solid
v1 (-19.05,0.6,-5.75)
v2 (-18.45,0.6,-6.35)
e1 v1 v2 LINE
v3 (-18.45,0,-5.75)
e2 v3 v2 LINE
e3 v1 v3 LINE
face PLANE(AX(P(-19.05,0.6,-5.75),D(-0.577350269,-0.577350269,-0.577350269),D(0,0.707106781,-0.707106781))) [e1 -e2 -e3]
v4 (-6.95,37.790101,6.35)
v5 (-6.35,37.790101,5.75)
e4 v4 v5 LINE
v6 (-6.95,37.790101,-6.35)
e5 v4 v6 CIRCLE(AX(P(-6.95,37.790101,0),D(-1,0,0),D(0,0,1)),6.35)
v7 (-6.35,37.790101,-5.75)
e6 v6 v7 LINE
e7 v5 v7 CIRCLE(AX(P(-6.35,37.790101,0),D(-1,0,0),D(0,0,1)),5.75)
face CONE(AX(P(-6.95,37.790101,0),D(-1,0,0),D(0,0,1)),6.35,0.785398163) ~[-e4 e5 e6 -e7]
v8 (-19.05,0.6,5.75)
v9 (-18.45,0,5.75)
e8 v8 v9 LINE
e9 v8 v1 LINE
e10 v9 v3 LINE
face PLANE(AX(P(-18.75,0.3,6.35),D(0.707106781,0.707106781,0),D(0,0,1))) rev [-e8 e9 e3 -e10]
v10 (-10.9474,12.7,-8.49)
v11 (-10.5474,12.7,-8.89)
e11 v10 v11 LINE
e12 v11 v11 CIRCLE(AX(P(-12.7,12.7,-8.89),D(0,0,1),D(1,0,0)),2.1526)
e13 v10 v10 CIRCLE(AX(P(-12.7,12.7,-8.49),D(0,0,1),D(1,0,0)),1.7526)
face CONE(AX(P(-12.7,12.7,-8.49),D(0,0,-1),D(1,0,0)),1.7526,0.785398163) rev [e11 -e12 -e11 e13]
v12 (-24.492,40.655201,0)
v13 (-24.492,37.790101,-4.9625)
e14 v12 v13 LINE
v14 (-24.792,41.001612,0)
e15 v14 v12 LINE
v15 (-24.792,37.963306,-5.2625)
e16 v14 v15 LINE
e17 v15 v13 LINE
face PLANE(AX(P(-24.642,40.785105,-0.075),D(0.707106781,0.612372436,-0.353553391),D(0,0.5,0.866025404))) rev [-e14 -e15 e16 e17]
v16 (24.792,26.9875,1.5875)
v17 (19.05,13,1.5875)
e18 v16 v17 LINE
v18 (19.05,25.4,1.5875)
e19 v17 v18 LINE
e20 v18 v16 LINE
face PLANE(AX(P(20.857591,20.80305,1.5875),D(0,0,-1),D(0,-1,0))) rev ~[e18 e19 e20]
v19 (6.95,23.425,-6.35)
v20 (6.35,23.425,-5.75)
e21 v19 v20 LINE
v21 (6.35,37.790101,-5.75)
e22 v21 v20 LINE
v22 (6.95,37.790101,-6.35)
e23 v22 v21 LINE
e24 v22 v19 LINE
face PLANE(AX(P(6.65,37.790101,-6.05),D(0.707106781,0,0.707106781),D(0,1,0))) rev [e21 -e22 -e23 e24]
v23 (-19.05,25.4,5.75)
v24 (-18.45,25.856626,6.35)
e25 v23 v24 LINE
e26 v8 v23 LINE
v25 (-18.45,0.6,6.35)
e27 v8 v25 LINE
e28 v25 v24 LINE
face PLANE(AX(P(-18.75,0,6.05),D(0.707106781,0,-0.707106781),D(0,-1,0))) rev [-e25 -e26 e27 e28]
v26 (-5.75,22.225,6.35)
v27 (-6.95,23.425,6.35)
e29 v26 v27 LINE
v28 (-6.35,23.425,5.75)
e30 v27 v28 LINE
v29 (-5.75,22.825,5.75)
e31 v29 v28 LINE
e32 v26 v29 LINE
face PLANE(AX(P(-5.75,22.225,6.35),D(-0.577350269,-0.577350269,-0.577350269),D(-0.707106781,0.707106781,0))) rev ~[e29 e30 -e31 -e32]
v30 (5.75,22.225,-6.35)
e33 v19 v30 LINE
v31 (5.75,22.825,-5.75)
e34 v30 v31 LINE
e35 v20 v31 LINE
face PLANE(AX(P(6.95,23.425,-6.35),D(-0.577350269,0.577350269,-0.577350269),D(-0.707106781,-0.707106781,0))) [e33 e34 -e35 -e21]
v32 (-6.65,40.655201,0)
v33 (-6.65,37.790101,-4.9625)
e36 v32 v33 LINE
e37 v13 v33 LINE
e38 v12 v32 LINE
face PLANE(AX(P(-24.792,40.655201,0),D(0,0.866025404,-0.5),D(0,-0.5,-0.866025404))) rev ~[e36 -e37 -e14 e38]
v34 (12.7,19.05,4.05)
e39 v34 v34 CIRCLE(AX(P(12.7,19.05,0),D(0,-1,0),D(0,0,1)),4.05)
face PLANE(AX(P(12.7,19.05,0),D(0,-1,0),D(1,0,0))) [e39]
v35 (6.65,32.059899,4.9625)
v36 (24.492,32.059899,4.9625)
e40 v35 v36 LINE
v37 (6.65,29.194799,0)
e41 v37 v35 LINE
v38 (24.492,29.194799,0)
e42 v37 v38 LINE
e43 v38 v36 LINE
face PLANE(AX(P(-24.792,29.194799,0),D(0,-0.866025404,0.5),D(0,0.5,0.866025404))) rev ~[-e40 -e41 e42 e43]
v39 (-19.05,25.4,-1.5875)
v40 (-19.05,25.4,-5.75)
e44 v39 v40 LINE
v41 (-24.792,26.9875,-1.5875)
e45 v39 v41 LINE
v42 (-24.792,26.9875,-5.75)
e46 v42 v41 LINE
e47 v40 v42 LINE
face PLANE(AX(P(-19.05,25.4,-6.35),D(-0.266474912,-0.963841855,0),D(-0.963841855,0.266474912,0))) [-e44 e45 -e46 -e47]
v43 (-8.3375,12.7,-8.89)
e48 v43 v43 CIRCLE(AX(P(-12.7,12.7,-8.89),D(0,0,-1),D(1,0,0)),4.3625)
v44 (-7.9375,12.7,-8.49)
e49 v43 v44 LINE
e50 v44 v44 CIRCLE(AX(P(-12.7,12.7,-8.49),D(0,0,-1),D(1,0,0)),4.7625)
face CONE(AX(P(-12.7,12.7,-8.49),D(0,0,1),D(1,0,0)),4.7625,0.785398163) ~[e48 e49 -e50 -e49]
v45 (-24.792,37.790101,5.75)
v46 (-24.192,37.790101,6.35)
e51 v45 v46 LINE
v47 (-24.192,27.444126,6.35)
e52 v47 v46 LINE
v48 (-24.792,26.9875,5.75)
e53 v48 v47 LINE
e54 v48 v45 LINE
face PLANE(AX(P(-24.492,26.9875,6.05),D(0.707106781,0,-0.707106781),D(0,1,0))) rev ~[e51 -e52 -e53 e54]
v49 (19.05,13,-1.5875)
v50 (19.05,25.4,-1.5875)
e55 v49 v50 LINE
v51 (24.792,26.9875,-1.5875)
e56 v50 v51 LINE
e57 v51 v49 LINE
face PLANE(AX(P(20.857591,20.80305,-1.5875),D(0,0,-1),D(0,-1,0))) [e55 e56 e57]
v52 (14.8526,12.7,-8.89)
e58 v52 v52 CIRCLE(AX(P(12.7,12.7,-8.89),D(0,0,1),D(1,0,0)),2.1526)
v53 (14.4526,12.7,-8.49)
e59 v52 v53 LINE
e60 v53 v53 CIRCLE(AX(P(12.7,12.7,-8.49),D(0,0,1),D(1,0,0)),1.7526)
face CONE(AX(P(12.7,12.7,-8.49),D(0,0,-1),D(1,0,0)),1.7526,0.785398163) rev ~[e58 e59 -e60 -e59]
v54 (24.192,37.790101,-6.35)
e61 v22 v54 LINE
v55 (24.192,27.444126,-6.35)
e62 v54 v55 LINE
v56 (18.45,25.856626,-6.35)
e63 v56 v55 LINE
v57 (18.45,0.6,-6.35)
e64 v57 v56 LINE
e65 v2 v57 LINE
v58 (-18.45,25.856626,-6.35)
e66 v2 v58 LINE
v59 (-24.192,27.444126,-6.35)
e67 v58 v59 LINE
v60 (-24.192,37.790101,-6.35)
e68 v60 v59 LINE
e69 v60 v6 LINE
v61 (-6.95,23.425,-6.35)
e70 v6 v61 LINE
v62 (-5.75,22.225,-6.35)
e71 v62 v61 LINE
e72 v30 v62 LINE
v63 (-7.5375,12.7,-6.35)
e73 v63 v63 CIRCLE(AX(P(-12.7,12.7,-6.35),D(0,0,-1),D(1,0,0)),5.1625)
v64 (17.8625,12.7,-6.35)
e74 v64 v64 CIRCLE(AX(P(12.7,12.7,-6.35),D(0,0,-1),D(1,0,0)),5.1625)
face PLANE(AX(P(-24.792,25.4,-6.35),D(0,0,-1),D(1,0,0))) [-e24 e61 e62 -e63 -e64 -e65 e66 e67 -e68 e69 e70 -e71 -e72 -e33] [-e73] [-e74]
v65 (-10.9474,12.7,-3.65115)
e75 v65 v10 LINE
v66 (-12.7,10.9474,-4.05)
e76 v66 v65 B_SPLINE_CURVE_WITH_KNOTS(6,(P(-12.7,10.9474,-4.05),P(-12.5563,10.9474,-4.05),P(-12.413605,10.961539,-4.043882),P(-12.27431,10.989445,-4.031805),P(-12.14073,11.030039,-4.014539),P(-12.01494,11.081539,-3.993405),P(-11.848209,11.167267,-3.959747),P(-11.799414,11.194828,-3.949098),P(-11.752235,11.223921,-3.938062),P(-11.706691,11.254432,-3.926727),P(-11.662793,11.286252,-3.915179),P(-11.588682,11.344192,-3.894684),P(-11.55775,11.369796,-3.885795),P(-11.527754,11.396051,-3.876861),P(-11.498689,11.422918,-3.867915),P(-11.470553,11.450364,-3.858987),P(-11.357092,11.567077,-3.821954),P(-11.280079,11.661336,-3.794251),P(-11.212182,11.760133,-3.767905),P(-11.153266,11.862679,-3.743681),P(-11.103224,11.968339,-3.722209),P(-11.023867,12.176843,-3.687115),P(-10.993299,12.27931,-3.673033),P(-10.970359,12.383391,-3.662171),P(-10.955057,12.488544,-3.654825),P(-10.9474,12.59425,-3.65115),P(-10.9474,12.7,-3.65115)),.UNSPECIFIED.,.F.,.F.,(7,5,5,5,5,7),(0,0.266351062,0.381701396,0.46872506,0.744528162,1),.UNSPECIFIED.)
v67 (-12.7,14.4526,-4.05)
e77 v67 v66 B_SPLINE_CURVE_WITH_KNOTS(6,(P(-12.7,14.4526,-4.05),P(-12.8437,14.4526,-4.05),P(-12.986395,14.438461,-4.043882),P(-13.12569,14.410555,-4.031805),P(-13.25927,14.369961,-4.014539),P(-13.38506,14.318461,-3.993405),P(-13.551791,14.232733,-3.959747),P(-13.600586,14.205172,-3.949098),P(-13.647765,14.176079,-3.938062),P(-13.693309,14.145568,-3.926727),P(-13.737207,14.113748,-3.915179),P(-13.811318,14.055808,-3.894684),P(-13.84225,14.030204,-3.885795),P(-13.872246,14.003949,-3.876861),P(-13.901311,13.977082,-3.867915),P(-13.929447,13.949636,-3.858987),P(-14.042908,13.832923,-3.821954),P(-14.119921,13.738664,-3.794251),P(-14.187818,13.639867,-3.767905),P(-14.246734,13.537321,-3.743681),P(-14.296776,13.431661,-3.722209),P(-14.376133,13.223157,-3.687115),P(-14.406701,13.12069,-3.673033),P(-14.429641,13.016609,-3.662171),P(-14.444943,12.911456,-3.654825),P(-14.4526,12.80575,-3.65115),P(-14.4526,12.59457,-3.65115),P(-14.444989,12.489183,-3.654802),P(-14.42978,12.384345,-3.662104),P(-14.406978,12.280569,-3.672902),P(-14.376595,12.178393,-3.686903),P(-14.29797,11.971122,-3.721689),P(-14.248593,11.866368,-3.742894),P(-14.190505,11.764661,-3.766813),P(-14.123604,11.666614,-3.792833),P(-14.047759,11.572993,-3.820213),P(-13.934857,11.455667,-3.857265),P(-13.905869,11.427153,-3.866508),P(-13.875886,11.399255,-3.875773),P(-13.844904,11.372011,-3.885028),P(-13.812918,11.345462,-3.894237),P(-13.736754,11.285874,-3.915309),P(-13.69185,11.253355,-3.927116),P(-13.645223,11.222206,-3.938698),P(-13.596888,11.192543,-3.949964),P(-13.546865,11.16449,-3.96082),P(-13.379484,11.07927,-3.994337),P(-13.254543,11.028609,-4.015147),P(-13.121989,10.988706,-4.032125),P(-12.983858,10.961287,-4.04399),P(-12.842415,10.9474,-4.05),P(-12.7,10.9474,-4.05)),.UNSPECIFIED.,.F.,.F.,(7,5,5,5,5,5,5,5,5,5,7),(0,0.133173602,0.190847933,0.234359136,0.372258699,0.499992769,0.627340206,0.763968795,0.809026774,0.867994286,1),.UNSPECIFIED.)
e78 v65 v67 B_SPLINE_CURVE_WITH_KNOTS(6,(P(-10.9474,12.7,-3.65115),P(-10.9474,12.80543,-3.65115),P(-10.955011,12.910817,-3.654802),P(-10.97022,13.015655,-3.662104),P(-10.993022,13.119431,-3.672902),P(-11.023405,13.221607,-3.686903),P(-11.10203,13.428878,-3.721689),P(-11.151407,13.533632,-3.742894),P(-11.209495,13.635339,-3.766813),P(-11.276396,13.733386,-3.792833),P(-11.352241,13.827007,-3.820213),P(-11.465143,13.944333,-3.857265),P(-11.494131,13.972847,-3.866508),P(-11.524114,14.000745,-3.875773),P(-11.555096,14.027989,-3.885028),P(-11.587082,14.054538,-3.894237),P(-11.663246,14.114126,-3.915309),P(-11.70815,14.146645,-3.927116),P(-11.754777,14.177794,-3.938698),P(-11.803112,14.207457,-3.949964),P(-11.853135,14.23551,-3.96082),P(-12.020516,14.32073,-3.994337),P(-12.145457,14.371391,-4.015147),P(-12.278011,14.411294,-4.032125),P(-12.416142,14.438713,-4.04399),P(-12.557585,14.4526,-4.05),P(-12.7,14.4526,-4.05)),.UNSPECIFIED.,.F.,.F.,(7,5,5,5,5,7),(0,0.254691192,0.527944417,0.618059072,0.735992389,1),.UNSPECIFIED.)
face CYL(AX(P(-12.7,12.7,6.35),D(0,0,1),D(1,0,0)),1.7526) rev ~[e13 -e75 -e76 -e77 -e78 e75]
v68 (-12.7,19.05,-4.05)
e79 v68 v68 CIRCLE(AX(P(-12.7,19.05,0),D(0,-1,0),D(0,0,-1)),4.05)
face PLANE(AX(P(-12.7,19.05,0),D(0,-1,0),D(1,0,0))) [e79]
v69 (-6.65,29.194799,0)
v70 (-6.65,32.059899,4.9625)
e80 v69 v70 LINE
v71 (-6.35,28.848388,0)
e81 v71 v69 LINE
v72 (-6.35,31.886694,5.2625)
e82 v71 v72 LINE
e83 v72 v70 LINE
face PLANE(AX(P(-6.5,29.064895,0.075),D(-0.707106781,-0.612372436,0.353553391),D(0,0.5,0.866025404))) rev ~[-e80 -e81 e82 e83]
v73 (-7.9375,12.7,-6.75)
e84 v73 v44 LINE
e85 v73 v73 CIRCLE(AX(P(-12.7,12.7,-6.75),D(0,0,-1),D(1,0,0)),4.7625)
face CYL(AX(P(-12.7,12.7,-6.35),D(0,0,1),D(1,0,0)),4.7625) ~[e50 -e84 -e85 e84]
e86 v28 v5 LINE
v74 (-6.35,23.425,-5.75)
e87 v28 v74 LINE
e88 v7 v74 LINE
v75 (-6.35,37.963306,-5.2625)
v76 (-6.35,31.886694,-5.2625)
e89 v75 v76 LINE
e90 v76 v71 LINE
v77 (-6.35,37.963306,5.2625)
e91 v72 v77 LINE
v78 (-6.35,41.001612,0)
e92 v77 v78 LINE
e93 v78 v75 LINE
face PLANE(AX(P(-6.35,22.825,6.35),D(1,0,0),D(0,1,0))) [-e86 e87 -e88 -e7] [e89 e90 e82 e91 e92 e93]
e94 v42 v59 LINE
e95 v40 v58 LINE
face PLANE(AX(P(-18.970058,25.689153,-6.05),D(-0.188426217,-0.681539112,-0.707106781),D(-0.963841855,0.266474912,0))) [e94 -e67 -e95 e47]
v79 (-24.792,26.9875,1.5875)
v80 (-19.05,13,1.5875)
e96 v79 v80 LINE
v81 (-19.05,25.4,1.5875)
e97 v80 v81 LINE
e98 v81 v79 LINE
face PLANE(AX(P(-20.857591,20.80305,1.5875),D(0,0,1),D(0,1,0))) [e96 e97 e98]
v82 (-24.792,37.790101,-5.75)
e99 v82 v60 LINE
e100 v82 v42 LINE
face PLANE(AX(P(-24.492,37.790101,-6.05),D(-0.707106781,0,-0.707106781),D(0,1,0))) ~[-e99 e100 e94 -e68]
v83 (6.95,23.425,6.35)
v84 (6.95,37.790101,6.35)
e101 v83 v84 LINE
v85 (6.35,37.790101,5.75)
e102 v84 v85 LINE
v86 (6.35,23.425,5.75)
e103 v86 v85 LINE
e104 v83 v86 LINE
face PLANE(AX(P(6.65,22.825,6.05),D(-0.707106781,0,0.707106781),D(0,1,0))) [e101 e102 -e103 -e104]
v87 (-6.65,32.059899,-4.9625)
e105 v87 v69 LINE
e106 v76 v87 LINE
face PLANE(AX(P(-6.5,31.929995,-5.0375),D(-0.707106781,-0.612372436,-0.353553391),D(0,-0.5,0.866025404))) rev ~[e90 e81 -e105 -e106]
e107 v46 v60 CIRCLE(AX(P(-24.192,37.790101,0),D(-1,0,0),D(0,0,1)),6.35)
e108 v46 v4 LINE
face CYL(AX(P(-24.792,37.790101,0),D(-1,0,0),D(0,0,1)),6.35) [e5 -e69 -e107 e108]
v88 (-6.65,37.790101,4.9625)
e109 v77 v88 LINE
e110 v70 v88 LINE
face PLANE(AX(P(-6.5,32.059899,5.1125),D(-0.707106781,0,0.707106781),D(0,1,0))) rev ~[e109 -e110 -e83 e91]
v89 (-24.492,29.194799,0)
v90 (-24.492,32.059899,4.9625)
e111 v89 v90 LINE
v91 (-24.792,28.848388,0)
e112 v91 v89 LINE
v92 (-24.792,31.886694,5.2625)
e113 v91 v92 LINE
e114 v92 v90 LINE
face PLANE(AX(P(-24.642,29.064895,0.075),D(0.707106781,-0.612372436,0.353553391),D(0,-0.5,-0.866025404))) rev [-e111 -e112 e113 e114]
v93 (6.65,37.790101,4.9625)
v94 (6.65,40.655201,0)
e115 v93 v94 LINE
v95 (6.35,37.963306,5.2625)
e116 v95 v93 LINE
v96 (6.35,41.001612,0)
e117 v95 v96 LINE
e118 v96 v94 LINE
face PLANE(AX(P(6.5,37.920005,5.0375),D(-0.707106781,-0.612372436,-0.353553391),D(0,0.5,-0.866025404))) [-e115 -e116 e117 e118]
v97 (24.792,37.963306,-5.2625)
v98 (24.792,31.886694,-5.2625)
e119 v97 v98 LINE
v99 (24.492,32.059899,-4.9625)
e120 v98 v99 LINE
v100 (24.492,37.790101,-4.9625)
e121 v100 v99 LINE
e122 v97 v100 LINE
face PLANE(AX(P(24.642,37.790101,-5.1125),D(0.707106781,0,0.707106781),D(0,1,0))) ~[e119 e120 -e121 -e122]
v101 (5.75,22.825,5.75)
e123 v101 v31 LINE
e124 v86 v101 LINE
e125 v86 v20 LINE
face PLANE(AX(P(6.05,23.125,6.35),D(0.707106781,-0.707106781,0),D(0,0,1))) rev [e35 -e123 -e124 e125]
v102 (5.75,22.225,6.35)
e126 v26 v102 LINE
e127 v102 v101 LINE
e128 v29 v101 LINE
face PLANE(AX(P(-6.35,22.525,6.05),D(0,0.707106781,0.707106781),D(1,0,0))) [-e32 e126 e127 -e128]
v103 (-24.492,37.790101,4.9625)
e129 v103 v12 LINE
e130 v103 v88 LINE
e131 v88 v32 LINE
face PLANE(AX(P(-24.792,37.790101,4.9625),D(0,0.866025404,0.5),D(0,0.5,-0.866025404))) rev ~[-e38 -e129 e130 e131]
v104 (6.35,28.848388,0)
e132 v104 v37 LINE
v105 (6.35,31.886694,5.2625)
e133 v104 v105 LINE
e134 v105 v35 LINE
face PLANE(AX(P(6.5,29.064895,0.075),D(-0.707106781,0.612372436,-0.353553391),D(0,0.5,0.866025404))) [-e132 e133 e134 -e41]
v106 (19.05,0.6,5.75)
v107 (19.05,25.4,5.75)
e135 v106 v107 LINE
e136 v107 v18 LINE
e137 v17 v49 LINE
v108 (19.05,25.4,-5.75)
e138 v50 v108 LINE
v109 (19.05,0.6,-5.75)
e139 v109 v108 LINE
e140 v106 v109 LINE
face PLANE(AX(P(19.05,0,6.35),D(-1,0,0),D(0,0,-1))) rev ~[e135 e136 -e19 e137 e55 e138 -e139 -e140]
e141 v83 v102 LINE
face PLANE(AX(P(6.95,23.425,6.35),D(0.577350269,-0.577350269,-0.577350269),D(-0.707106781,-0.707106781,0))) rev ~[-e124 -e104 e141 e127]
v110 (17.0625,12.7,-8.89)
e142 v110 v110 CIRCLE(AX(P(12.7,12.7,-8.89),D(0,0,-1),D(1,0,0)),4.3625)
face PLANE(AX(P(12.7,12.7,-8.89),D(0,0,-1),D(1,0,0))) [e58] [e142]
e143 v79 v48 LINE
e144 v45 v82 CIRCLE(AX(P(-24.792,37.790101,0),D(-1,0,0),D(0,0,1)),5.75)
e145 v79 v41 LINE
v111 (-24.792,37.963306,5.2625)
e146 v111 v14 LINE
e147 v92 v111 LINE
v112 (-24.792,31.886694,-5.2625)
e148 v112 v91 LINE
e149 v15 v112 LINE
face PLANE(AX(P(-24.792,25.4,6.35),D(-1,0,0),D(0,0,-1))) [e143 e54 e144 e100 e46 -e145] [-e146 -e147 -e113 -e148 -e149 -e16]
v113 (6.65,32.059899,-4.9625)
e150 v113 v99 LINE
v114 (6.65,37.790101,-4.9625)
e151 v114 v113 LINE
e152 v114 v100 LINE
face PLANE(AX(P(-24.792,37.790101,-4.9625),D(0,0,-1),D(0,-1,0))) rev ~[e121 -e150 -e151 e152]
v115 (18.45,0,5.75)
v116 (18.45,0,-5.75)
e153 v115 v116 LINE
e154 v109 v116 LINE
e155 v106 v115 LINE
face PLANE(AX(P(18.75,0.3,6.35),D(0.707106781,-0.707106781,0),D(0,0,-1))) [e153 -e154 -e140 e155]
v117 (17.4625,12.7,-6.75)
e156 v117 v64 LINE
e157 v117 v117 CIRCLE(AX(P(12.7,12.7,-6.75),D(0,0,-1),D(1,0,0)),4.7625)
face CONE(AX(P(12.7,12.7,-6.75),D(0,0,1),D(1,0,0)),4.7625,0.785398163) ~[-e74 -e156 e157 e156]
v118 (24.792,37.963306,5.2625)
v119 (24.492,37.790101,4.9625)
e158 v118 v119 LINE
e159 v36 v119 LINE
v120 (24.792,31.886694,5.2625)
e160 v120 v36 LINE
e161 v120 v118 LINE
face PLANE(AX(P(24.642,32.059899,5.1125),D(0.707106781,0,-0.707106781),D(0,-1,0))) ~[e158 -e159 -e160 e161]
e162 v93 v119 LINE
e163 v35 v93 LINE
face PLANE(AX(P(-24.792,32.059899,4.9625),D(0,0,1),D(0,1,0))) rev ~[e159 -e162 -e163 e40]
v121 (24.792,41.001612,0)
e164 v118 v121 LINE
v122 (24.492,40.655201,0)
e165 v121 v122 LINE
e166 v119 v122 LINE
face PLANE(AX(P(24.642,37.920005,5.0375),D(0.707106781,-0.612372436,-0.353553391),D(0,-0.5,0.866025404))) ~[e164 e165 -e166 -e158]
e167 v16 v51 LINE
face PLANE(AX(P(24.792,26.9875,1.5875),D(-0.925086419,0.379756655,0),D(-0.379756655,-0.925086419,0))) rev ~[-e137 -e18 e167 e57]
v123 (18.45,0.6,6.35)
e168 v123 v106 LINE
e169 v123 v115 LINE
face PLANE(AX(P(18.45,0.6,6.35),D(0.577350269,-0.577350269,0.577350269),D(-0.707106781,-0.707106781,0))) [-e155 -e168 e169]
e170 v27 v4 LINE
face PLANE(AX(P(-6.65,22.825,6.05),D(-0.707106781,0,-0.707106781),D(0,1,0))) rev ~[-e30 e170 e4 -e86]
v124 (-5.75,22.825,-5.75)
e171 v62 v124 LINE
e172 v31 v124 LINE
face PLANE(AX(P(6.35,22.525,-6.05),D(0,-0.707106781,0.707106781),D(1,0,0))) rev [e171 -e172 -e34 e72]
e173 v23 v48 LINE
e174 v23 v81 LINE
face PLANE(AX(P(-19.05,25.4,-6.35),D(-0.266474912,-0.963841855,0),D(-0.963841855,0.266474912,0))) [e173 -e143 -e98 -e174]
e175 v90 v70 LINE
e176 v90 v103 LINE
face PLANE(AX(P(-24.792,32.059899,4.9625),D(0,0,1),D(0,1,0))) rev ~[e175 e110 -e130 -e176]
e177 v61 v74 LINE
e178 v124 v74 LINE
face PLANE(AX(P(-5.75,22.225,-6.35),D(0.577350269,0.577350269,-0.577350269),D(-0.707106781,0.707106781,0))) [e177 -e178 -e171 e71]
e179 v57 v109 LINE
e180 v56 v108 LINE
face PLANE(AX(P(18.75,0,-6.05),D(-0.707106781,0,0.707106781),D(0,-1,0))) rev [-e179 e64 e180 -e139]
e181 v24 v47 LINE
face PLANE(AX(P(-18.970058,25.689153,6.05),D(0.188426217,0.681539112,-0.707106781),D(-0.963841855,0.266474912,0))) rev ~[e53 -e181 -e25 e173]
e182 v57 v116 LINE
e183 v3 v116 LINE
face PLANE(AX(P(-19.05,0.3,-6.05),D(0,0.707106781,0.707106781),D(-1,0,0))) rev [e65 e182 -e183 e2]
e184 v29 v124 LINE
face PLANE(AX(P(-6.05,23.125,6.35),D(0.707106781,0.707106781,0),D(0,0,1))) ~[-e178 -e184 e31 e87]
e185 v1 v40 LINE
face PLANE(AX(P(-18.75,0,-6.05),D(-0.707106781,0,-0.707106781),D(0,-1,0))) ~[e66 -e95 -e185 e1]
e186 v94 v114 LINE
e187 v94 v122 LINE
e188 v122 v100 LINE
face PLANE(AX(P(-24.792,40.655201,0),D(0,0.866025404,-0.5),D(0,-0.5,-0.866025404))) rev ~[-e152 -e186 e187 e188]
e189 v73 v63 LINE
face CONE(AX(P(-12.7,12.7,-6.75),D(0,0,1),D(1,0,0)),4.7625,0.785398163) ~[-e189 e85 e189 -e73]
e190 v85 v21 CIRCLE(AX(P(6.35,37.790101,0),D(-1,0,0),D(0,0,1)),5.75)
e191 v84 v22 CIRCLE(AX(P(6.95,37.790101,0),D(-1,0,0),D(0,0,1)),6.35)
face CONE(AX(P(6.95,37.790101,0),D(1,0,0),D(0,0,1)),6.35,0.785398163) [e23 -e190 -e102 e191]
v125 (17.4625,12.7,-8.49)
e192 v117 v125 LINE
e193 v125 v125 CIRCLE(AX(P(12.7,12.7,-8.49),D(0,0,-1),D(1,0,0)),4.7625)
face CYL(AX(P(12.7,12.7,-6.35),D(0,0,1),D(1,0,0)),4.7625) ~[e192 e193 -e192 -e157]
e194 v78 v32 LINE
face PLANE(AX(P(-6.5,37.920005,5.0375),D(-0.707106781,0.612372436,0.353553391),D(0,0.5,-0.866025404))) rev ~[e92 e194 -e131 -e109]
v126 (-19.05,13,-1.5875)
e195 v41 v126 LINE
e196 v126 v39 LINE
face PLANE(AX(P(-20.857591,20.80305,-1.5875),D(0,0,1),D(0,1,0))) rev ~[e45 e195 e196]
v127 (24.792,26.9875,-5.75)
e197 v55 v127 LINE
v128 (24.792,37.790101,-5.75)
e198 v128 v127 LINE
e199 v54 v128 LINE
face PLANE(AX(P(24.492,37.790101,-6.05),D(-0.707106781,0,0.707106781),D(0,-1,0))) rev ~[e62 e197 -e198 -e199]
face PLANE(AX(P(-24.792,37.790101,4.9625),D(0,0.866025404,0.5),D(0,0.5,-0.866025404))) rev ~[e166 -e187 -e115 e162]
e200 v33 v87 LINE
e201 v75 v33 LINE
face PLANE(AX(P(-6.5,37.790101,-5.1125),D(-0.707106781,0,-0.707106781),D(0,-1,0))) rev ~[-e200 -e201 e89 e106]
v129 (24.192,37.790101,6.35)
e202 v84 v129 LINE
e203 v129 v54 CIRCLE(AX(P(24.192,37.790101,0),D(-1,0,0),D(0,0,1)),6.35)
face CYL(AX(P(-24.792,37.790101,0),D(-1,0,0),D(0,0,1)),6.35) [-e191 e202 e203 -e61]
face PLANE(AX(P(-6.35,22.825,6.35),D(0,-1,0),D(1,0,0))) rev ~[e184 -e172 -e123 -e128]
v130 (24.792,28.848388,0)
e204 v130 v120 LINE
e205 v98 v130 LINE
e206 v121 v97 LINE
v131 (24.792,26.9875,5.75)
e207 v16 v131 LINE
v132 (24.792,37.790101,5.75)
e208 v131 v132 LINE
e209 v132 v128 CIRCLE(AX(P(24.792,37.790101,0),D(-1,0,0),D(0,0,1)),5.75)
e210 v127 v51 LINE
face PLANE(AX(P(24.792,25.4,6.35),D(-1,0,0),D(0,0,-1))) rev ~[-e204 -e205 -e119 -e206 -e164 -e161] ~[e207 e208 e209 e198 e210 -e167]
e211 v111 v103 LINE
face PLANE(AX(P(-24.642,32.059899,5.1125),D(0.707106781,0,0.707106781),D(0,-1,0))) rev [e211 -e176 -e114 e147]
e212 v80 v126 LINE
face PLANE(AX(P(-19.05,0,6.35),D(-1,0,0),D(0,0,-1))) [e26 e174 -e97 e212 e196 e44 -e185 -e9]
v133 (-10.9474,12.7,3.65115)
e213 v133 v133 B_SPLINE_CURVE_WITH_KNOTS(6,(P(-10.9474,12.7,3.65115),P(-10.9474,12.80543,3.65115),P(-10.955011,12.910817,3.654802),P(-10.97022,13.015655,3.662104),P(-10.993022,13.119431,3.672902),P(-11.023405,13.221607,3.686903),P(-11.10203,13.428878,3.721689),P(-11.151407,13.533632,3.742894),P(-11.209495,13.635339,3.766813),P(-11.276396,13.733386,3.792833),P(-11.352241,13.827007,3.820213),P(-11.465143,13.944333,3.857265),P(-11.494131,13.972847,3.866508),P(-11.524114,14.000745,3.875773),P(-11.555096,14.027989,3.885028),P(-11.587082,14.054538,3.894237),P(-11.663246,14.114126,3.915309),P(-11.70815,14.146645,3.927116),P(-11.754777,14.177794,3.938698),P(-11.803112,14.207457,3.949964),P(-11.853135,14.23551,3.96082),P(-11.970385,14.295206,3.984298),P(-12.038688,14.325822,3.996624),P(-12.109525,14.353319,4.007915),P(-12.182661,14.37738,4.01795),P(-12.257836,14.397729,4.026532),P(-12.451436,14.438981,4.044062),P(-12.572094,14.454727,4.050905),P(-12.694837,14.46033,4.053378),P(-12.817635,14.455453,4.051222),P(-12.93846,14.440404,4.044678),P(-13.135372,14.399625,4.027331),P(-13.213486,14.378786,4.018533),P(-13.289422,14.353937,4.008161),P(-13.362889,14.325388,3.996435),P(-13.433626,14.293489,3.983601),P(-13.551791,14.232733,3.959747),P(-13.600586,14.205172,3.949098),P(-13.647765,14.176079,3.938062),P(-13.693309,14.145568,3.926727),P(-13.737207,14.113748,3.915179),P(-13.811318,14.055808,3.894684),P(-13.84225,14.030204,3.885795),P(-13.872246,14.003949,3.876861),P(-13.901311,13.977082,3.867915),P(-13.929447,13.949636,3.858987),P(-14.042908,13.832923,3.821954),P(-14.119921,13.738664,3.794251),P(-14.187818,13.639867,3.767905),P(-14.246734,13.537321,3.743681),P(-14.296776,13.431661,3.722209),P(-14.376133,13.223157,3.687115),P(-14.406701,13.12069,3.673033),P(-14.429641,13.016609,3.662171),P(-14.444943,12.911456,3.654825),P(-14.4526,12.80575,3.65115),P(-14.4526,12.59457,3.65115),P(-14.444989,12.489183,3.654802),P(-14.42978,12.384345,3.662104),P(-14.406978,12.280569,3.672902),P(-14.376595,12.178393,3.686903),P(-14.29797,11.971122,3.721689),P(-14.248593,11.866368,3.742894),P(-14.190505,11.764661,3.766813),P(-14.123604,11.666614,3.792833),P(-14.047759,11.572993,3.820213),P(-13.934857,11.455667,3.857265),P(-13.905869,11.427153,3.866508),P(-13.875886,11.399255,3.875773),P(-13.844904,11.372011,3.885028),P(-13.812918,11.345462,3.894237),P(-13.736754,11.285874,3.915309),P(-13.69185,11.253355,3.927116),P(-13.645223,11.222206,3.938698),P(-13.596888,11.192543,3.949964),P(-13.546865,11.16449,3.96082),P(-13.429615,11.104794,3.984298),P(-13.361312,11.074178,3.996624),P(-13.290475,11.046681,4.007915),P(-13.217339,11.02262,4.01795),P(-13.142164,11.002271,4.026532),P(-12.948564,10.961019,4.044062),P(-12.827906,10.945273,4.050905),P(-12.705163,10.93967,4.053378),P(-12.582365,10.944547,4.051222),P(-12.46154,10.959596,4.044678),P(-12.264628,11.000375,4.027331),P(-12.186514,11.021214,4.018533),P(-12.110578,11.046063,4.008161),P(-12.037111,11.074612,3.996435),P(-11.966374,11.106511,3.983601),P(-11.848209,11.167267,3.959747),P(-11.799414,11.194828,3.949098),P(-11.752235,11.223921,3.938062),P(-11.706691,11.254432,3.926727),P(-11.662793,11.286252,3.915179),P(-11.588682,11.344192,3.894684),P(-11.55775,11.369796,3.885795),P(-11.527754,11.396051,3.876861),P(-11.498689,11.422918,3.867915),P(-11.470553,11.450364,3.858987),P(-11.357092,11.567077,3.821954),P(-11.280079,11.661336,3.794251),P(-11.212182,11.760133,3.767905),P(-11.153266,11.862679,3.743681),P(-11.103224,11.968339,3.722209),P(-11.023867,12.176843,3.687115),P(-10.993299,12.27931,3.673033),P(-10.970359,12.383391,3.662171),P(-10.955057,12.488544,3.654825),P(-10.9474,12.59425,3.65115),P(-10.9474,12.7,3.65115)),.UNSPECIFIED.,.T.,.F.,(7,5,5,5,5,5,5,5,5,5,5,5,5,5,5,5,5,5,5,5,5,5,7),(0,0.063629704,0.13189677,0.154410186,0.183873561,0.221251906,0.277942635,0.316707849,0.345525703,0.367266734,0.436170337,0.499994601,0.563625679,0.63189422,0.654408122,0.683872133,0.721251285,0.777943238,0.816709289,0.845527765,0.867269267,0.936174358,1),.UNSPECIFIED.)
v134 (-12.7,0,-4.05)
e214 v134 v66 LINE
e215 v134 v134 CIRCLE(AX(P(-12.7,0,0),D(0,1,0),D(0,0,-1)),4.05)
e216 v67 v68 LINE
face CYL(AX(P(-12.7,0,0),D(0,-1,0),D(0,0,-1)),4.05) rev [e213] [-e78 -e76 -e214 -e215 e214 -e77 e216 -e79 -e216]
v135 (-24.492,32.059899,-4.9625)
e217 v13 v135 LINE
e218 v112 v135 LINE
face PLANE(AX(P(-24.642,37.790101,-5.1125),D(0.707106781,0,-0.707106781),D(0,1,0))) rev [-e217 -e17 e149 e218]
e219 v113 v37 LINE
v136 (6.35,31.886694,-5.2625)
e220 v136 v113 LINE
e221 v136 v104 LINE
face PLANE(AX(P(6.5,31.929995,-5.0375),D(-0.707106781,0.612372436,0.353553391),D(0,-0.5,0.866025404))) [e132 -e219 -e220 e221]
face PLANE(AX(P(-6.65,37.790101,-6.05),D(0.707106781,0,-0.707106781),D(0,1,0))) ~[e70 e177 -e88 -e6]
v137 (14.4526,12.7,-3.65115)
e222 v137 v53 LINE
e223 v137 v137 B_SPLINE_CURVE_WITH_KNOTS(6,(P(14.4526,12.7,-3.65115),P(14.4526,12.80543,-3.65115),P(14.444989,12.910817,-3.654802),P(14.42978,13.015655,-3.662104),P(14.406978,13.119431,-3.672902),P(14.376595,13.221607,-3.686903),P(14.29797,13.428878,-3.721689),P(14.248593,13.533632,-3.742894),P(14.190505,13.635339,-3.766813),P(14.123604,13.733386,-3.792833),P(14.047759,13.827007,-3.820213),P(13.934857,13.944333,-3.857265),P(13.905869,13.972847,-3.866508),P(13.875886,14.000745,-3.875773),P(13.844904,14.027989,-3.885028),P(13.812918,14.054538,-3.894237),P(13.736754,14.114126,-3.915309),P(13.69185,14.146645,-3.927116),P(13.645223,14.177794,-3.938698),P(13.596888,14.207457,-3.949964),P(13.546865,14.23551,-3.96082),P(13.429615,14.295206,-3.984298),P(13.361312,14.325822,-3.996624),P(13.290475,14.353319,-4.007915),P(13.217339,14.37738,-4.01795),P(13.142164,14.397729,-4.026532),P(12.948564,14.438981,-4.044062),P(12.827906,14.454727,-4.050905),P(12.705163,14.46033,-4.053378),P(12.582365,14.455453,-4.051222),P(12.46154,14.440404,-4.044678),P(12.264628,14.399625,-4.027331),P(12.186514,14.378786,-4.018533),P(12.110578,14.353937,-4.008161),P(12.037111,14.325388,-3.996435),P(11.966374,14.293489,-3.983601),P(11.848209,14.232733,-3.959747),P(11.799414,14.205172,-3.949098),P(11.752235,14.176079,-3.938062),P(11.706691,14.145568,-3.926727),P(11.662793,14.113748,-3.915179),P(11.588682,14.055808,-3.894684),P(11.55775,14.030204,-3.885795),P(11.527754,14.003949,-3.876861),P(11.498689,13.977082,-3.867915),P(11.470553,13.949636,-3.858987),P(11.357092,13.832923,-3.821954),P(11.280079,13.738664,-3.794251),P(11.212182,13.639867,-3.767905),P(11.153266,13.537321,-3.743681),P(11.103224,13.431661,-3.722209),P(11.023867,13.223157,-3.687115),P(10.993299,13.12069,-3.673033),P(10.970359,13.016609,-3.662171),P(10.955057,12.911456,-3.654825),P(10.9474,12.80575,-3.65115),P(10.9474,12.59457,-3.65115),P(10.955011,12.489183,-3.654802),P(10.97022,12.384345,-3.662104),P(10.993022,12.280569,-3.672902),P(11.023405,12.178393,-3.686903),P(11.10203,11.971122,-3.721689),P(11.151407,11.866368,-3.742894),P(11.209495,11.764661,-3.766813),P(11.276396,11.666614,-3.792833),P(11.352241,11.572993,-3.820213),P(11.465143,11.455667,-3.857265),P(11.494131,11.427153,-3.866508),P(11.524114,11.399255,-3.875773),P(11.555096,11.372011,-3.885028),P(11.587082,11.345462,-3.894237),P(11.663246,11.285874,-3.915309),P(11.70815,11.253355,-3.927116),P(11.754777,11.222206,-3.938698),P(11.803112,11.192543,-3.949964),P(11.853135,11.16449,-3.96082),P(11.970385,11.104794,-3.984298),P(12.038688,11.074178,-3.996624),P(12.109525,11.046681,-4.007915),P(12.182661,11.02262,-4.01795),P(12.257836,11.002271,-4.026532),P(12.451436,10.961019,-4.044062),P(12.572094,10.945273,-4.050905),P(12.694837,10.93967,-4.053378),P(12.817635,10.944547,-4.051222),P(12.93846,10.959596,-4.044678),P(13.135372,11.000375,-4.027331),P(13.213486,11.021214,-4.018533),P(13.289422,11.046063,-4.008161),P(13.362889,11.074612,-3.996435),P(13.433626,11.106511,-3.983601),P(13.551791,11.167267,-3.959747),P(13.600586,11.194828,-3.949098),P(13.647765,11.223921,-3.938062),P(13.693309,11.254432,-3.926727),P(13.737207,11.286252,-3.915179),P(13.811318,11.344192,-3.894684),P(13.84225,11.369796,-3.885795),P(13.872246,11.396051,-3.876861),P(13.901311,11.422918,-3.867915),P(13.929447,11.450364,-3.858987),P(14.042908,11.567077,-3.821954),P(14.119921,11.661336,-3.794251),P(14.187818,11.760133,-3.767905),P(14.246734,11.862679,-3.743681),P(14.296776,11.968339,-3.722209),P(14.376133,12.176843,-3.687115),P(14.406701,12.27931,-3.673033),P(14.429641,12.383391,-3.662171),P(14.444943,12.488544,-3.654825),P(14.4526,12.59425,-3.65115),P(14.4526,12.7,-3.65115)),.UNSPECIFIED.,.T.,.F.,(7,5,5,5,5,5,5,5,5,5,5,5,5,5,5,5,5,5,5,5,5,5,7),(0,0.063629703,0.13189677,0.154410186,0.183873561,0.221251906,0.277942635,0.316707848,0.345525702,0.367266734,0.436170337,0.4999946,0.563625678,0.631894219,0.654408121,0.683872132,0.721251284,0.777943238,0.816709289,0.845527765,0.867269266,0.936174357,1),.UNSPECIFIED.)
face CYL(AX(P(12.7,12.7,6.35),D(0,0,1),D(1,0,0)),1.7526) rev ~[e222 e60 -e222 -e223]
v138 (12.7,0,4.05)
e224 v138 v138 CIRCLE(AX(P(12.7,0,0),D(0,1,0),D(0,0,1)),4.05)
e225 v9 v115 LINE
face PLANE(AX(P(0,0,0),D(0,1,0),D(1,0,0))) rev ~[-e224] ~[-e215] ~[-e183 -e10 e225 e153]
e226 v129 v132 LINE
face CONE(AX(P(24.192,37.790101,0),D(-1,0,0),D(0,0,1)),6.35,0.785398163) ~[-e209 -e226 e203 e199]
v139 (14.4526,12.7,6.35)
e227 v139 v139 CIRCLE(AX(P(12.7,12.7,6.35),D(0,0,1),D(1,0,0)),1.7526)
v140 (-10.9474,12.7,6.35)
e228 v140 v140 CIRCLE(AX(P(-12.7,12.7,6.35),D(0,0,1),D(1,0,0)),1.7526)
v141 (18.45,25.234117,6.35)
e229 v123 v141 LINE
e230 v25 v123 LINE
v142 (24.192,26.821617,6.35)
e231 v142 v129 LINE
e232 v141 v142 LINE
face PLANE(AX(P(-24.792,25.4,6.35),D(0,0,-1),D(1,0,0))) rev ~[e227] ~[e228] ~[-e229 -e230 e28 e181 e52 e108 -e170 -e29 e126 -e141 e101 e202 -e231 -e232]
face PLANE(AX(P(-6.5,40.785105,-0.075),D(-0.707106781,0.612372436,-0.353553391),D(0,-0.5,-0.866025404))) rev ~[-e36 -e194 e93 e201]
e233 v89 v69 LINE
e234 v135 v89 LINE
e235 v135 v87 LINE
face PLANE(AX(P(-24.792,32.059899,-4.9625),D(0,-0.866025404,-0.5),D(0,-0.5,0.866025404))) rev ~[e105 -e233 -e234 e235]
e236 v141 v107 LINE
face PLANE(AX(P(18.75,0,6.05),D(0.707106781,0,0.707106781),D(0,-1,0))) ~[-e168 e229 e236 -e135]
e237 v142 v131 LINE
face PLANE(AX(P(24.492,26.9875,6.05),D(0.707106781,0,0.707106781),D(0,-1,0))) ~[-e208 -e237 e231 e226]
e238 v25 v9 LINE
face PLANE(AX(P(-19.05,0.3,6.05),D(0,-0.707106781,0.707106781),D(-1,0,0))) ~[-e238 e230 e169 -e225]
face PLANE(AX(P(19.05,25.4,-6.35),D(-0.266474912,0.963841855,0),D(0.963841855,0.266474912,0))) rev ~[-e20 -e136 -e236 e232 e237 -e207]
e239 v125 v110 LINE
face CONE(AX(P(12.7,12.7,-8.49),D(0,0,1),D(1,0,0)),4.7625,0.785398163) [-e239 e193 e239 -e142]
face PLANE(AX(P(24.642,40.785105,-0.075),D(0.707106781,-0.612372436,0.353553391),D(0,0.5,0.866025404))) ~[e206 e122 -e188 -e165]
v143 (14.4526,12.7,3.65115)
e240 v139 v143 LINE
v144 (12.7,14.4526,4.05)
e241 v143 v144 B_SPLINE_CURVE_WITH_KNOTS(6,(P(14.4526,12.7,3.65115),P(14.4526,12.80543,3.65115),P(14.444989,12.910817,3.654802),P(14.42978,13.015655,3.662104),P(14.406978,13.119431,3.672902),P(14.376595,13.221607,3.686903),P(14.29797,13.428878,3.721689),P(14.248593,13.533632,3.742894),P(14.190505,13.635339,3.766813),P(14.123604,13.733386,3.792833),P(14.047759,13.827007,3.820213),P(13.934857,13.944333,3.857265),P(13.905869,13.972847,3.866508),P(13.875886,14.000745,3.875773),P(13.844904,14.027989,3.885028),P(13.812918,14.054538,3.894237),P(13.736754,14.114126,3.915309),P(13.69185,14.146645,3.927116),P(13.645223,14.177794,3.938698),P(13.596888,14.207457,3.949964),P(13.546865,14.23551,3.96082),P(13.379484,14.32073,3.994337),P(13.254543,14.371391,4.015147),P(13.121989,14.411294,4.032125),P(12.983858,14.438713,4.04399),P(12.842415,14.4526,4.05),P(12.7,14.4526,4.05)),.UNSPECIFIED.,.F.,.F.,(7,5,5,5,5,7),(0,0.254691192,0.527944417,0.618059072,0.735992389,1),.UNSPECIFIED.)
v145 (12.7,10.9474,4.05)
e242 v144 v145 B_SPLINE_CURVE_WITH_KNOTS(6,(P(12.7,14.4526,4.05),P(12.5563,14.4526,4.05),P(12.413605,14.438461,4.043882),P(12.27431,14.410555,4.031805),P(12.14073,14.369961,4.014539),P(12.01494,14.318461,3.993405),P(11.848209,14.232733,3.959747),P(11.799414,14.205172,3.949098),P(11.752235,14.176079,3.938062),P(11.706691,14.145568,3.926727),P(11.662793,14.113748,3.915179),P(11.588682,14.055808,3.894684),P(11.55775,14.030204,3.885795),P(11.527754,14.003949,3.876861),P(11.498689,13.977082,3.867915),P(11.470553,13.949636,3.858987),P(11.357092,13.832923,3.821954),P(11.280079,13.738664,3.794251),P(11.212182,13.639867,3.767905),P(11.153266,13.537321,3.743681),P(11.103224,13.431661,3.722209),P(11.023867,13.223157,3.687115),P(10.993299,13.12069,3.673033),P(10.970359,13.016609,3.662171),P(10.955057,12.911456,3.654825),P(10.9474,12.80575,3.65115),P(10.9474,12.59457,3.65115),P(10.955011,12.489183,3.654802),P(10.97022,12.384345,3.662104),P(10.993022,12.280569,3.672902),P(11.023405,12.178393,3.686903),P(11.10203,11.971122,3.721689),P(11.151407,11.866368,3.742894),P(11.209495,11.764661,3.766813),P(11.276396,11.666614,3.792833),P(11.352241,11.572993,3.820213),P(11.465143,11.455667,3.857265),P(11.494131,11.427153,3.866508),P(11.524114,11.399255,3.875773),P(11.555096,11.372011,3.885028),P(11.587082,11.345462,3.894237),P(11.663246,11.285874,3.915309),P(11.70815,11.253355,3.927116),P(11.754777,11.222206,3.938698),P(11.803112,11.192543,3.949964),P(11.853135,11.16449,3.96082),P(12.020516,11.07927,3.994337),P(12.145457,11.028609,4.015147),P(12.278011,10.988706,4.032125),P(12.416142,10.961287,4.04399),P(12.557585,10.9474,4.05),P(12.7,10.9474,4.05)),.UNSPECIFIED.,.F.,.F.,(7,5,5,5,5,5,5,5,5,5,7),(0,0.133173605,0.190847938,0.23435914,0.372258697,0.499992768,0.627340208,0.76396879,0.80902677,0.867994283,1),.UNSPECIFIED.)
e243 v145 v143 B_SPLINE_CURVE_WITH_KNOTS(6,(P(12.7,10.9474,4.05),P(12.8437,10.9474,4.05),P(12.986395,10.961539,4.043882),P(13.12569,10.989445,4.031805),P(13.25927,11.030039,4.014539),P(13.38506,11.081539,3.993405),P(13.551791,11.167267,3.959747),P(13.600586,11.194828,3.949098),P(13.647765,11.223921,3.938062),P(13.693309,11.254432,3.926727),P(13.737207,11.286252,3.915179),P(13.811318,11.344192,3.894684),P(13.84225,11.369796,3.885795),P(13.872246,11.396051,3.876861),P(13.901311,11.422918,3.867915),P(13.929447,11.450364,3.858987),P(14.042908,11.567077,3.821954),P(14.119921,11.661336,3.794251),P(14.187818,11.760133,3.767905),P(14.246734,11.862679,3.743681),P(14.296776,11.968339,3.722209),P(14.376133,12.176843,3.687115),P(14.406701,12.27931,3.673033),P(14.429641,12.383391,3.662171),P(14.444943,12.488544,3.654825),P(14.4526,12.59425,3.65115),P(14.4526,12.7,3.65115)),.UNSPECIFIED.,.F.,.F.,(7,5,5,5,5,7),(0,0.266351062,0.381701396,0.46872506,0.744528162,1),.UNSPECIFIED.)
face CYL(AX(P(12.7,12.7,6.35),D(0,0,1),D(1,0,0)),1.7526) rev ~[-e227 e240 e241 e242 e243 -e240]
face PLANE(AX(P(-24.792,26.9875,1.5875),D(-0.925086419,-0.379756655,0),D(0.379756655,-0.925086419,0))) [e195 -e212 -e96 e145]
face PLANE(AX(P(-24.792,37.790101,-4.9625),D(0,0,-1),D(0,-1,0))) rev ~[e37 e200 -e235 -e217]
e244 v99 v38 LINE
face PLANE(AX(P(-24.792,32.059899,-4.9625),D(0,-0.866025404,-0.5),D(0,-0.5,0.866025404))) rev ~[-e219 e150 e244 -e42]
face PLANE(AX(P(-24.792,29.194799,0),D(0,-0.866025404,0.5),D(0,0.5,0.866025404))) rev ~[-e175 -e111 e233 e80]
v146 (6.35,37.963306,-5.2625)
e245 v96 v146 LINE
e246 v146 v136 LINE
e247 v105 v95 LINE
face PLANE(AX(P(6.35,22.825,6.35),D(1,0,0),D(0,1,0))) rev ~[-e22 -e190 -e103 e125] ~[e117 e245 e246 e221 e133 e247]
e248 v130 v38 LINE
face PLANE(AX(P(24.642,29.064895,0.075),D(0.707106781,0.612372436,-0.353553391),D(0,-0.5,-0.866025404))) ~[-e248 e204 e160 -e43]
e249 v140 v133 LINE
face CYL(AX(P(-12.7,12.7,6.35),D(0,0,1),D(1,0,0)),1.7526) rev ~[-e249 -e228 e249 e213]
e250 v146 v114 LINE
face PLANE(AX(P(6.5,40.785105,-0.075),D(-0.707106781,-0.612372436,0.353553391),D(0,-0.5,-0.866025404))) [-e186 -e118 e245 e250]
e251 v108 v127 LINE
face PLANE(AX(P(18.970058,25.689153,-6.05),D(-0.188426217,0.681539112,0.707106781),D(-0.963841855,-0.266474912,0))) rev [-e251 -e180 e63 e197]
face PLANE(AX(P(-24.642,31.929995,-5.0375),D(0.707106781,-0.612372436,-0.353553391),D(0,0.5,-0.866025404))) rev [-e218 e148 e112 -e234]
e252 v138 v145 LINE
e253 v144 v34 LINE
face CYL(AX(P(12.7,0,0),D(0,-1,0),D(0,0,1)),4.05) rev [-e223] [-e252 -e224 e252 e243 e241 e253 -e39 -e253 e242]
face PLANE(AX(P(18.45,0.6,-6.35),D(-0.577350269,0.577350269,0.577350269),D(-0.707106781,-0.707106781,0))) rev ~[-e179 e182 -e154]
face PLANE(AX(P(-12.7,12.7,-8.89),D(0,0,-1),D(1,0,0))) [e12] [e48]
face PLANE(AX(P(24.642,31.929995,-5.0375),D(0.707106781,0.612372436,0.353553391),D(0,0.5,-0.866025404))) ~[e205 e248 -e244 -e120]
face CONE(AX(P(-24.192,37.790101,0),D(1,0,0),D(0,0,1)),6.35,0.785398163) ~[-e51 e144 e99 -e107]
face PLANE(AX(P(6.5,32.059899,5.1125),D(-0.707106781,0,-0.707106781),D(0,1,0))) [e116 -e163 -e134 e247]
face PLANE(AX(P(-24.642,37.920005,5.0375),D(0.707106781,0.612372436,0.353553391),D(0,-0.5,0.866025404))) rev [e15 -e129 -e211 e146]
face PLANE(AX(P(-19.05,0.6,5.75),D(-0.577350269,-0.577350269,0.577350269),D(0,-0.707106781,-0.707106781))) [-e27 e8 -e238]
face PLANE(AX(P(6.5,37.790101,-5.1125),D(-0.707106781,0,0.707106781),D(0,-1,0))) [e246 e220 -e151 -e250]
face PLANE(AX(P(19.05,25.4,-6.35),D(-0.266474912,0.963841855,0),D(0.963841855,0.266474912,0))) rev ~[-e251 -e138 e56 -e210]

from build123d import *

# Parameters (mm, degrees)
SKETCH1_W                = 38.1
SKETCH1_H                = 12.7
SKETCH1_R                = 4.05
BOSS_EXTRUDE1_DEPTH      = 25.4
SKETCH5_R                = 1.7526
CUT_EXTRUDE2_DEPTH       = 35.195796525
SKETCH6_W                = 49.584
SKETCH6_H                = 12.7
BOSS_EXTRUDE4_DEPTH      = 19.05
CUT_EXTRUDE3_DEPTH       = 67.893183937
CUT_EXTRUDE4_DEPTH       = 67.893183937
CUT_EXTRUDE5_DEPTH       = 53.194652565
CHAMFER1_SIZE            = 0.6
SKETCH10_W               = 12.7
SKETCH10_H               = 25.4
CUT_EXTRUDE6_DEPTH       = 53.194652565
CHAMFER2_SIZE            = 0.6
CHAMFER3_SIZE            = 0.3
BOSS_EXTRUDE5_DEPTH      = 1.5875
BOSS_EXTRUDE5_DEPTH_BACK = 1.5875
SKETCH14_R               = 4.7625
BOSS_EXTRUDE6_DEPTH      = 2.54
SKETCH15_R               = 1.7526
CUT_EXTRUDE7_DEPTH       = 53.870117777
CHAMFER4_SIZE            = 0.4
SKETCH18_R               = 4.1
BOSS_EXTRUDE7_DEPTH      = 6.35


with BuildPart() as part:
    # Sketch1 → Boss-Extrude1 (new body)
    with BuildSketch(Plane(origin=(0, 0, 0), x_dir=(1, 0, 0), z_dir=(0, 1, 0))):
        Rectangle(SKETCH1_W, SKETCH1_H)
        with Locations(Location((12.7, 0, 0), (0, 0, 270))):
            Circle(SKETCH1_R, mode=Mode.SUBTRACT)
        with Locations(Location((-12.7, 0, 0), (0, 0, 90))):
            Circle(SKETCH1_R, mode=Mode.SUBTRACT)
    extrude(amount=BOSS_EXTRUDE1_DEPTH)

    # Sketch5 → Cut-Extrude2 (cut, through all)
    with BuildSketch(Plane.XY.offset(6.35)):
        with Locations((12.7, 12.7)):
            Circle(SKETCH5_R)
        with Locations((-12.7, 12.7)):
            Circle(SKETCH5_R)
    extrude(amount=-CUT_EXTRUDE2_DEPTH, mode=Mode.SUBTRACT)

    # Sketch6 → Boss-Extrude4 (add)
    with BuildSketch(Plane(origin=(0, 25.4, 0), x_dir=(1, 0, 0), z_dir=(0, 1, 0))):
        Rectangle(SKETCH6_W, SKETCH6_H)
    extrude(amount=BOSS_EXTRUDE4_DEPTH)

    # Sketch7 → Cut-Extrude3 (cut, through all)
    with BuildSketch(Plane.ZY.offset(24.792)):
        Polygon((0, 40.6552014), (-4.962499981, 37.7901007), (-4.962499981, 32.0598993), (0, 29.1947986), (4.962499981, 32.0598993), (4.962499981, 37.7901007), align=None)
    extrude(amount=-CUT_EXTRUDE3_DEPTH, mode=Mode.SUBTRACT)

    # Sketch8 → Cut-Extrude4 (cut, through all)
    with BuildSketch(Plane.ZY.offset(24.792)):
        with BuildLine():
            Line((-6.35, 37.7901007), (-6.35, 44.45))
            Line((-6.35, 44.45), (6.35, 44.45))
            Line((6.35, 44.45), (6.35, 37.7901007))
            ThreePointArc((6.35, 37.7901007), (0, 44.1401007), (-6.35, 37.7901007))
        make_face()
    extrude(amount=-CUT_EXTRUDE4_DEPTH, mode=Mode.SUBTRACT)

    # Sketch9 → Cut-Extrude5 (cut, through all)
    with BuildSketch(Plane(origin=(0, 0, -6.35), x_dir=(-1, 0, 0), z_dir=(0, 0, -1))):
        Polygon((19.05, 25.4), (24.792, 26.9875), (24.792, 25.4), align=None)
        Polygon((-24.792, 25.4), (-19.05, 25.4), (-24.792, 26.9875), align=None)
    extrude(amount=-CUT_EXTRUDE5_DEPTH, mode=Mode.SUBTRACT)

    # Chamfer1
    chamfer1_edges = [part.edges().sort_by_distance(p)[0] for p in [
        (19.05, 0, 0),
        (24.792, 32.38880035, 6.35),
        (24.792, 44.1401007, 0),
        (24.792, 32.38880035, -6.35),
        (21.921, 26.19375, -6.35),
        (19.05, 12.7, -6.35),
        (19.05, 12.7, 6.35),
        (-21.921, 26.19375, 6.35),
        (-24.792, 32.38880035, 6.35),
        (-24.792, 44.1401007, 0),
        (-24.792, 32.38880035, -6.35),
        (-21.921, 26.19375, -6.35),
        (0, 0, 6.35),
        (0, 0, -6.35),
        (-19.05, 12.7, 6.35),
        (-19.05, 0, 0),
        (-19.05, 12.7, -6.35),
    ]]
    chamfer(chamfer1_edges, length=CHAMFER1_SIZE)

    # Sketch10 → Cut-Extrude6 (cut, through all)
    with BuildSketch(Plane.XY.offset(6.35)):
        with Locations((0, 35.525)):
            Rectangle(SKETCH10_W, SKETCH10_H)
    extrude(amount=-CUT_EXTRUDE6_DEPTH, mode=Mode.SUBTRACT)

    # Chamfer2
    chamfer2_edges = [part.edges().sort_by_distance(p)[0] for p in [
        (-6.35, 44.1401007, 0),
        (6.35, 44.1401007, 0),
        (6.35, 30.30755035, -6.35),
        (-6.35, 30.30755035, -6.35),
        (-6.35, 22.825, 0),
        (6.35, 30.30755035, 6.35),
        (-6.35, 30.30755035, 6.35),
        (0, 22.825, 6.35),
        (0, 22.825, -6.35),
        (6.35, 22.825, 0),
    ]]
    chamfer(chamfer2_edges, length=CHAMFER2_SIZE)

    # Chamfer3
    chamfer3_edges = [part.edges().sort_by_distance(p)[0] for p in [
        (6.35, 34.925, 4.962499981),
        (6.35, 39.22265105, 2.481249991),
        (6.35, 39.22265105, -2.48124999),
        (6.35, 34.925, -4.962499981),
        (6.35, 30.62734895, -2.48124999),
        (6.35, 30.62734895, 2.481249991),
        (-6.35, 39.22265105, -2.48124999),
        (-6.35, 39.22265105, 2.481249991),
        (-6.35, 34.925, 4.962499981),
        (-6.35, 30.62734895, 2.481249991),
        (-6.35, 30.62734895, -2.48124999),
        (-6.35, 34.925, -4.962499981),
        (24.792, 39.22265105, 2.481249991),
        (24.792, 34.925, 4.962499981),
        (24.792, 30.62734895, 2.481249991),
        (24.792, 30.62734895, -2.48124999),
        (24.792, 34.925, -4.962499981),
        (24.792, 39.22265105, -2.481249991),
        (-24.792, 39.22265105, 2.481249991),
        (-24.792, 39.22265105, -2.48124999),
        (-24.792, 34.925, -4.962499981),
        (-24.792, 30.62734895, -2.48124999),
        (-24.792, 30.62734895, 2.481249991),
        (-24.792, 34.925, 4.962499981),
    ]]
    chamfer(chamfer3_edges, length=CHAMFER3_SIZE)

    # Sketch13 → Boss-Extrude5 (add, two sides: drawn at the far end of the back side and taken through both)
    with BuildSketch(Plane(origin=(0, 0, 0), x_dir=(0, -1, 0), z_dir=(0, 0, -1)).offset(-BOSS_EXTRUDE5_DEPTH_BACK)):
        Polygon((-25.4, 19.05), (-26.9875, 24.792), (-13, 19.05), align=None)
        Polygon((-26.9875, -24.792), (-13, -19.05), (-25.4, -19.05), align=None)
    extrude(amount=BOSS_EXTRUDE5_DEPTH + BOSS_EXTRUDE5_DEPTH_BACK)

    # Sketch14 → Boss-Extrude6 (add)
    with BuildSketch(Plane(origin=(0, 0, -6.35), x_dir=(-1, 0, 0), z_dir=(0, 0, -1))):
        with Locations(Location((-12.7, 12.7, 0), (0, 0, 180))):
            Circle(SKETCH14_R)
        with Locations(Location((12.7, 12.7, 0), (0, 0, 180))):
            Circle(SKETCH14_R)
    extrude(amount=BOSS_EXTRUDE6_DEPTH)

    # Sketch15 → Cut-Extrude7 (cut, through all)
    with BuildSketch(Plane.XY.offset(6.35)):
        with Locations((12.7, 12.7)):
            Circle(SKETCH15_R)
        with Locations((-12.7, 12.7)):
            Circle(SKETCH15_R)
    extrude(amount=-CUT_EXTRUDE7_DEPTH, mode=Mode.SUBTRACT)

    # Chamfer4
    chamfer4_edges = [part.edges().sort_by_distance(p)[0] for p in [
        (7.9375, 12.7, -6.35),
        (7.9375, 12.7, -8.89),
        (-17.4625, 12.7, -6.35),
        (-17.4625, 12.7, -8.89),
        (10.9474, 12.7, -8.89),
        (-14.4526, 12.7, -8.89),
    ]]
    chamfer(chamfer4_edges, length=CHAMFER4_SIZE)

    # Sketch18 → Boss-Extrude7 (add)
    with BuildSketch(Plane.XZ.offset(-25.4)):
        with Locations((-12.7, 0)):
            Circle(SKETCH18_R)
        with Locations((12.7, 0)):
            Circle(SKETCH18_R)
    extrude(amount=BOSS_EXTRUDE7_DEPTH)


solid = part.part
